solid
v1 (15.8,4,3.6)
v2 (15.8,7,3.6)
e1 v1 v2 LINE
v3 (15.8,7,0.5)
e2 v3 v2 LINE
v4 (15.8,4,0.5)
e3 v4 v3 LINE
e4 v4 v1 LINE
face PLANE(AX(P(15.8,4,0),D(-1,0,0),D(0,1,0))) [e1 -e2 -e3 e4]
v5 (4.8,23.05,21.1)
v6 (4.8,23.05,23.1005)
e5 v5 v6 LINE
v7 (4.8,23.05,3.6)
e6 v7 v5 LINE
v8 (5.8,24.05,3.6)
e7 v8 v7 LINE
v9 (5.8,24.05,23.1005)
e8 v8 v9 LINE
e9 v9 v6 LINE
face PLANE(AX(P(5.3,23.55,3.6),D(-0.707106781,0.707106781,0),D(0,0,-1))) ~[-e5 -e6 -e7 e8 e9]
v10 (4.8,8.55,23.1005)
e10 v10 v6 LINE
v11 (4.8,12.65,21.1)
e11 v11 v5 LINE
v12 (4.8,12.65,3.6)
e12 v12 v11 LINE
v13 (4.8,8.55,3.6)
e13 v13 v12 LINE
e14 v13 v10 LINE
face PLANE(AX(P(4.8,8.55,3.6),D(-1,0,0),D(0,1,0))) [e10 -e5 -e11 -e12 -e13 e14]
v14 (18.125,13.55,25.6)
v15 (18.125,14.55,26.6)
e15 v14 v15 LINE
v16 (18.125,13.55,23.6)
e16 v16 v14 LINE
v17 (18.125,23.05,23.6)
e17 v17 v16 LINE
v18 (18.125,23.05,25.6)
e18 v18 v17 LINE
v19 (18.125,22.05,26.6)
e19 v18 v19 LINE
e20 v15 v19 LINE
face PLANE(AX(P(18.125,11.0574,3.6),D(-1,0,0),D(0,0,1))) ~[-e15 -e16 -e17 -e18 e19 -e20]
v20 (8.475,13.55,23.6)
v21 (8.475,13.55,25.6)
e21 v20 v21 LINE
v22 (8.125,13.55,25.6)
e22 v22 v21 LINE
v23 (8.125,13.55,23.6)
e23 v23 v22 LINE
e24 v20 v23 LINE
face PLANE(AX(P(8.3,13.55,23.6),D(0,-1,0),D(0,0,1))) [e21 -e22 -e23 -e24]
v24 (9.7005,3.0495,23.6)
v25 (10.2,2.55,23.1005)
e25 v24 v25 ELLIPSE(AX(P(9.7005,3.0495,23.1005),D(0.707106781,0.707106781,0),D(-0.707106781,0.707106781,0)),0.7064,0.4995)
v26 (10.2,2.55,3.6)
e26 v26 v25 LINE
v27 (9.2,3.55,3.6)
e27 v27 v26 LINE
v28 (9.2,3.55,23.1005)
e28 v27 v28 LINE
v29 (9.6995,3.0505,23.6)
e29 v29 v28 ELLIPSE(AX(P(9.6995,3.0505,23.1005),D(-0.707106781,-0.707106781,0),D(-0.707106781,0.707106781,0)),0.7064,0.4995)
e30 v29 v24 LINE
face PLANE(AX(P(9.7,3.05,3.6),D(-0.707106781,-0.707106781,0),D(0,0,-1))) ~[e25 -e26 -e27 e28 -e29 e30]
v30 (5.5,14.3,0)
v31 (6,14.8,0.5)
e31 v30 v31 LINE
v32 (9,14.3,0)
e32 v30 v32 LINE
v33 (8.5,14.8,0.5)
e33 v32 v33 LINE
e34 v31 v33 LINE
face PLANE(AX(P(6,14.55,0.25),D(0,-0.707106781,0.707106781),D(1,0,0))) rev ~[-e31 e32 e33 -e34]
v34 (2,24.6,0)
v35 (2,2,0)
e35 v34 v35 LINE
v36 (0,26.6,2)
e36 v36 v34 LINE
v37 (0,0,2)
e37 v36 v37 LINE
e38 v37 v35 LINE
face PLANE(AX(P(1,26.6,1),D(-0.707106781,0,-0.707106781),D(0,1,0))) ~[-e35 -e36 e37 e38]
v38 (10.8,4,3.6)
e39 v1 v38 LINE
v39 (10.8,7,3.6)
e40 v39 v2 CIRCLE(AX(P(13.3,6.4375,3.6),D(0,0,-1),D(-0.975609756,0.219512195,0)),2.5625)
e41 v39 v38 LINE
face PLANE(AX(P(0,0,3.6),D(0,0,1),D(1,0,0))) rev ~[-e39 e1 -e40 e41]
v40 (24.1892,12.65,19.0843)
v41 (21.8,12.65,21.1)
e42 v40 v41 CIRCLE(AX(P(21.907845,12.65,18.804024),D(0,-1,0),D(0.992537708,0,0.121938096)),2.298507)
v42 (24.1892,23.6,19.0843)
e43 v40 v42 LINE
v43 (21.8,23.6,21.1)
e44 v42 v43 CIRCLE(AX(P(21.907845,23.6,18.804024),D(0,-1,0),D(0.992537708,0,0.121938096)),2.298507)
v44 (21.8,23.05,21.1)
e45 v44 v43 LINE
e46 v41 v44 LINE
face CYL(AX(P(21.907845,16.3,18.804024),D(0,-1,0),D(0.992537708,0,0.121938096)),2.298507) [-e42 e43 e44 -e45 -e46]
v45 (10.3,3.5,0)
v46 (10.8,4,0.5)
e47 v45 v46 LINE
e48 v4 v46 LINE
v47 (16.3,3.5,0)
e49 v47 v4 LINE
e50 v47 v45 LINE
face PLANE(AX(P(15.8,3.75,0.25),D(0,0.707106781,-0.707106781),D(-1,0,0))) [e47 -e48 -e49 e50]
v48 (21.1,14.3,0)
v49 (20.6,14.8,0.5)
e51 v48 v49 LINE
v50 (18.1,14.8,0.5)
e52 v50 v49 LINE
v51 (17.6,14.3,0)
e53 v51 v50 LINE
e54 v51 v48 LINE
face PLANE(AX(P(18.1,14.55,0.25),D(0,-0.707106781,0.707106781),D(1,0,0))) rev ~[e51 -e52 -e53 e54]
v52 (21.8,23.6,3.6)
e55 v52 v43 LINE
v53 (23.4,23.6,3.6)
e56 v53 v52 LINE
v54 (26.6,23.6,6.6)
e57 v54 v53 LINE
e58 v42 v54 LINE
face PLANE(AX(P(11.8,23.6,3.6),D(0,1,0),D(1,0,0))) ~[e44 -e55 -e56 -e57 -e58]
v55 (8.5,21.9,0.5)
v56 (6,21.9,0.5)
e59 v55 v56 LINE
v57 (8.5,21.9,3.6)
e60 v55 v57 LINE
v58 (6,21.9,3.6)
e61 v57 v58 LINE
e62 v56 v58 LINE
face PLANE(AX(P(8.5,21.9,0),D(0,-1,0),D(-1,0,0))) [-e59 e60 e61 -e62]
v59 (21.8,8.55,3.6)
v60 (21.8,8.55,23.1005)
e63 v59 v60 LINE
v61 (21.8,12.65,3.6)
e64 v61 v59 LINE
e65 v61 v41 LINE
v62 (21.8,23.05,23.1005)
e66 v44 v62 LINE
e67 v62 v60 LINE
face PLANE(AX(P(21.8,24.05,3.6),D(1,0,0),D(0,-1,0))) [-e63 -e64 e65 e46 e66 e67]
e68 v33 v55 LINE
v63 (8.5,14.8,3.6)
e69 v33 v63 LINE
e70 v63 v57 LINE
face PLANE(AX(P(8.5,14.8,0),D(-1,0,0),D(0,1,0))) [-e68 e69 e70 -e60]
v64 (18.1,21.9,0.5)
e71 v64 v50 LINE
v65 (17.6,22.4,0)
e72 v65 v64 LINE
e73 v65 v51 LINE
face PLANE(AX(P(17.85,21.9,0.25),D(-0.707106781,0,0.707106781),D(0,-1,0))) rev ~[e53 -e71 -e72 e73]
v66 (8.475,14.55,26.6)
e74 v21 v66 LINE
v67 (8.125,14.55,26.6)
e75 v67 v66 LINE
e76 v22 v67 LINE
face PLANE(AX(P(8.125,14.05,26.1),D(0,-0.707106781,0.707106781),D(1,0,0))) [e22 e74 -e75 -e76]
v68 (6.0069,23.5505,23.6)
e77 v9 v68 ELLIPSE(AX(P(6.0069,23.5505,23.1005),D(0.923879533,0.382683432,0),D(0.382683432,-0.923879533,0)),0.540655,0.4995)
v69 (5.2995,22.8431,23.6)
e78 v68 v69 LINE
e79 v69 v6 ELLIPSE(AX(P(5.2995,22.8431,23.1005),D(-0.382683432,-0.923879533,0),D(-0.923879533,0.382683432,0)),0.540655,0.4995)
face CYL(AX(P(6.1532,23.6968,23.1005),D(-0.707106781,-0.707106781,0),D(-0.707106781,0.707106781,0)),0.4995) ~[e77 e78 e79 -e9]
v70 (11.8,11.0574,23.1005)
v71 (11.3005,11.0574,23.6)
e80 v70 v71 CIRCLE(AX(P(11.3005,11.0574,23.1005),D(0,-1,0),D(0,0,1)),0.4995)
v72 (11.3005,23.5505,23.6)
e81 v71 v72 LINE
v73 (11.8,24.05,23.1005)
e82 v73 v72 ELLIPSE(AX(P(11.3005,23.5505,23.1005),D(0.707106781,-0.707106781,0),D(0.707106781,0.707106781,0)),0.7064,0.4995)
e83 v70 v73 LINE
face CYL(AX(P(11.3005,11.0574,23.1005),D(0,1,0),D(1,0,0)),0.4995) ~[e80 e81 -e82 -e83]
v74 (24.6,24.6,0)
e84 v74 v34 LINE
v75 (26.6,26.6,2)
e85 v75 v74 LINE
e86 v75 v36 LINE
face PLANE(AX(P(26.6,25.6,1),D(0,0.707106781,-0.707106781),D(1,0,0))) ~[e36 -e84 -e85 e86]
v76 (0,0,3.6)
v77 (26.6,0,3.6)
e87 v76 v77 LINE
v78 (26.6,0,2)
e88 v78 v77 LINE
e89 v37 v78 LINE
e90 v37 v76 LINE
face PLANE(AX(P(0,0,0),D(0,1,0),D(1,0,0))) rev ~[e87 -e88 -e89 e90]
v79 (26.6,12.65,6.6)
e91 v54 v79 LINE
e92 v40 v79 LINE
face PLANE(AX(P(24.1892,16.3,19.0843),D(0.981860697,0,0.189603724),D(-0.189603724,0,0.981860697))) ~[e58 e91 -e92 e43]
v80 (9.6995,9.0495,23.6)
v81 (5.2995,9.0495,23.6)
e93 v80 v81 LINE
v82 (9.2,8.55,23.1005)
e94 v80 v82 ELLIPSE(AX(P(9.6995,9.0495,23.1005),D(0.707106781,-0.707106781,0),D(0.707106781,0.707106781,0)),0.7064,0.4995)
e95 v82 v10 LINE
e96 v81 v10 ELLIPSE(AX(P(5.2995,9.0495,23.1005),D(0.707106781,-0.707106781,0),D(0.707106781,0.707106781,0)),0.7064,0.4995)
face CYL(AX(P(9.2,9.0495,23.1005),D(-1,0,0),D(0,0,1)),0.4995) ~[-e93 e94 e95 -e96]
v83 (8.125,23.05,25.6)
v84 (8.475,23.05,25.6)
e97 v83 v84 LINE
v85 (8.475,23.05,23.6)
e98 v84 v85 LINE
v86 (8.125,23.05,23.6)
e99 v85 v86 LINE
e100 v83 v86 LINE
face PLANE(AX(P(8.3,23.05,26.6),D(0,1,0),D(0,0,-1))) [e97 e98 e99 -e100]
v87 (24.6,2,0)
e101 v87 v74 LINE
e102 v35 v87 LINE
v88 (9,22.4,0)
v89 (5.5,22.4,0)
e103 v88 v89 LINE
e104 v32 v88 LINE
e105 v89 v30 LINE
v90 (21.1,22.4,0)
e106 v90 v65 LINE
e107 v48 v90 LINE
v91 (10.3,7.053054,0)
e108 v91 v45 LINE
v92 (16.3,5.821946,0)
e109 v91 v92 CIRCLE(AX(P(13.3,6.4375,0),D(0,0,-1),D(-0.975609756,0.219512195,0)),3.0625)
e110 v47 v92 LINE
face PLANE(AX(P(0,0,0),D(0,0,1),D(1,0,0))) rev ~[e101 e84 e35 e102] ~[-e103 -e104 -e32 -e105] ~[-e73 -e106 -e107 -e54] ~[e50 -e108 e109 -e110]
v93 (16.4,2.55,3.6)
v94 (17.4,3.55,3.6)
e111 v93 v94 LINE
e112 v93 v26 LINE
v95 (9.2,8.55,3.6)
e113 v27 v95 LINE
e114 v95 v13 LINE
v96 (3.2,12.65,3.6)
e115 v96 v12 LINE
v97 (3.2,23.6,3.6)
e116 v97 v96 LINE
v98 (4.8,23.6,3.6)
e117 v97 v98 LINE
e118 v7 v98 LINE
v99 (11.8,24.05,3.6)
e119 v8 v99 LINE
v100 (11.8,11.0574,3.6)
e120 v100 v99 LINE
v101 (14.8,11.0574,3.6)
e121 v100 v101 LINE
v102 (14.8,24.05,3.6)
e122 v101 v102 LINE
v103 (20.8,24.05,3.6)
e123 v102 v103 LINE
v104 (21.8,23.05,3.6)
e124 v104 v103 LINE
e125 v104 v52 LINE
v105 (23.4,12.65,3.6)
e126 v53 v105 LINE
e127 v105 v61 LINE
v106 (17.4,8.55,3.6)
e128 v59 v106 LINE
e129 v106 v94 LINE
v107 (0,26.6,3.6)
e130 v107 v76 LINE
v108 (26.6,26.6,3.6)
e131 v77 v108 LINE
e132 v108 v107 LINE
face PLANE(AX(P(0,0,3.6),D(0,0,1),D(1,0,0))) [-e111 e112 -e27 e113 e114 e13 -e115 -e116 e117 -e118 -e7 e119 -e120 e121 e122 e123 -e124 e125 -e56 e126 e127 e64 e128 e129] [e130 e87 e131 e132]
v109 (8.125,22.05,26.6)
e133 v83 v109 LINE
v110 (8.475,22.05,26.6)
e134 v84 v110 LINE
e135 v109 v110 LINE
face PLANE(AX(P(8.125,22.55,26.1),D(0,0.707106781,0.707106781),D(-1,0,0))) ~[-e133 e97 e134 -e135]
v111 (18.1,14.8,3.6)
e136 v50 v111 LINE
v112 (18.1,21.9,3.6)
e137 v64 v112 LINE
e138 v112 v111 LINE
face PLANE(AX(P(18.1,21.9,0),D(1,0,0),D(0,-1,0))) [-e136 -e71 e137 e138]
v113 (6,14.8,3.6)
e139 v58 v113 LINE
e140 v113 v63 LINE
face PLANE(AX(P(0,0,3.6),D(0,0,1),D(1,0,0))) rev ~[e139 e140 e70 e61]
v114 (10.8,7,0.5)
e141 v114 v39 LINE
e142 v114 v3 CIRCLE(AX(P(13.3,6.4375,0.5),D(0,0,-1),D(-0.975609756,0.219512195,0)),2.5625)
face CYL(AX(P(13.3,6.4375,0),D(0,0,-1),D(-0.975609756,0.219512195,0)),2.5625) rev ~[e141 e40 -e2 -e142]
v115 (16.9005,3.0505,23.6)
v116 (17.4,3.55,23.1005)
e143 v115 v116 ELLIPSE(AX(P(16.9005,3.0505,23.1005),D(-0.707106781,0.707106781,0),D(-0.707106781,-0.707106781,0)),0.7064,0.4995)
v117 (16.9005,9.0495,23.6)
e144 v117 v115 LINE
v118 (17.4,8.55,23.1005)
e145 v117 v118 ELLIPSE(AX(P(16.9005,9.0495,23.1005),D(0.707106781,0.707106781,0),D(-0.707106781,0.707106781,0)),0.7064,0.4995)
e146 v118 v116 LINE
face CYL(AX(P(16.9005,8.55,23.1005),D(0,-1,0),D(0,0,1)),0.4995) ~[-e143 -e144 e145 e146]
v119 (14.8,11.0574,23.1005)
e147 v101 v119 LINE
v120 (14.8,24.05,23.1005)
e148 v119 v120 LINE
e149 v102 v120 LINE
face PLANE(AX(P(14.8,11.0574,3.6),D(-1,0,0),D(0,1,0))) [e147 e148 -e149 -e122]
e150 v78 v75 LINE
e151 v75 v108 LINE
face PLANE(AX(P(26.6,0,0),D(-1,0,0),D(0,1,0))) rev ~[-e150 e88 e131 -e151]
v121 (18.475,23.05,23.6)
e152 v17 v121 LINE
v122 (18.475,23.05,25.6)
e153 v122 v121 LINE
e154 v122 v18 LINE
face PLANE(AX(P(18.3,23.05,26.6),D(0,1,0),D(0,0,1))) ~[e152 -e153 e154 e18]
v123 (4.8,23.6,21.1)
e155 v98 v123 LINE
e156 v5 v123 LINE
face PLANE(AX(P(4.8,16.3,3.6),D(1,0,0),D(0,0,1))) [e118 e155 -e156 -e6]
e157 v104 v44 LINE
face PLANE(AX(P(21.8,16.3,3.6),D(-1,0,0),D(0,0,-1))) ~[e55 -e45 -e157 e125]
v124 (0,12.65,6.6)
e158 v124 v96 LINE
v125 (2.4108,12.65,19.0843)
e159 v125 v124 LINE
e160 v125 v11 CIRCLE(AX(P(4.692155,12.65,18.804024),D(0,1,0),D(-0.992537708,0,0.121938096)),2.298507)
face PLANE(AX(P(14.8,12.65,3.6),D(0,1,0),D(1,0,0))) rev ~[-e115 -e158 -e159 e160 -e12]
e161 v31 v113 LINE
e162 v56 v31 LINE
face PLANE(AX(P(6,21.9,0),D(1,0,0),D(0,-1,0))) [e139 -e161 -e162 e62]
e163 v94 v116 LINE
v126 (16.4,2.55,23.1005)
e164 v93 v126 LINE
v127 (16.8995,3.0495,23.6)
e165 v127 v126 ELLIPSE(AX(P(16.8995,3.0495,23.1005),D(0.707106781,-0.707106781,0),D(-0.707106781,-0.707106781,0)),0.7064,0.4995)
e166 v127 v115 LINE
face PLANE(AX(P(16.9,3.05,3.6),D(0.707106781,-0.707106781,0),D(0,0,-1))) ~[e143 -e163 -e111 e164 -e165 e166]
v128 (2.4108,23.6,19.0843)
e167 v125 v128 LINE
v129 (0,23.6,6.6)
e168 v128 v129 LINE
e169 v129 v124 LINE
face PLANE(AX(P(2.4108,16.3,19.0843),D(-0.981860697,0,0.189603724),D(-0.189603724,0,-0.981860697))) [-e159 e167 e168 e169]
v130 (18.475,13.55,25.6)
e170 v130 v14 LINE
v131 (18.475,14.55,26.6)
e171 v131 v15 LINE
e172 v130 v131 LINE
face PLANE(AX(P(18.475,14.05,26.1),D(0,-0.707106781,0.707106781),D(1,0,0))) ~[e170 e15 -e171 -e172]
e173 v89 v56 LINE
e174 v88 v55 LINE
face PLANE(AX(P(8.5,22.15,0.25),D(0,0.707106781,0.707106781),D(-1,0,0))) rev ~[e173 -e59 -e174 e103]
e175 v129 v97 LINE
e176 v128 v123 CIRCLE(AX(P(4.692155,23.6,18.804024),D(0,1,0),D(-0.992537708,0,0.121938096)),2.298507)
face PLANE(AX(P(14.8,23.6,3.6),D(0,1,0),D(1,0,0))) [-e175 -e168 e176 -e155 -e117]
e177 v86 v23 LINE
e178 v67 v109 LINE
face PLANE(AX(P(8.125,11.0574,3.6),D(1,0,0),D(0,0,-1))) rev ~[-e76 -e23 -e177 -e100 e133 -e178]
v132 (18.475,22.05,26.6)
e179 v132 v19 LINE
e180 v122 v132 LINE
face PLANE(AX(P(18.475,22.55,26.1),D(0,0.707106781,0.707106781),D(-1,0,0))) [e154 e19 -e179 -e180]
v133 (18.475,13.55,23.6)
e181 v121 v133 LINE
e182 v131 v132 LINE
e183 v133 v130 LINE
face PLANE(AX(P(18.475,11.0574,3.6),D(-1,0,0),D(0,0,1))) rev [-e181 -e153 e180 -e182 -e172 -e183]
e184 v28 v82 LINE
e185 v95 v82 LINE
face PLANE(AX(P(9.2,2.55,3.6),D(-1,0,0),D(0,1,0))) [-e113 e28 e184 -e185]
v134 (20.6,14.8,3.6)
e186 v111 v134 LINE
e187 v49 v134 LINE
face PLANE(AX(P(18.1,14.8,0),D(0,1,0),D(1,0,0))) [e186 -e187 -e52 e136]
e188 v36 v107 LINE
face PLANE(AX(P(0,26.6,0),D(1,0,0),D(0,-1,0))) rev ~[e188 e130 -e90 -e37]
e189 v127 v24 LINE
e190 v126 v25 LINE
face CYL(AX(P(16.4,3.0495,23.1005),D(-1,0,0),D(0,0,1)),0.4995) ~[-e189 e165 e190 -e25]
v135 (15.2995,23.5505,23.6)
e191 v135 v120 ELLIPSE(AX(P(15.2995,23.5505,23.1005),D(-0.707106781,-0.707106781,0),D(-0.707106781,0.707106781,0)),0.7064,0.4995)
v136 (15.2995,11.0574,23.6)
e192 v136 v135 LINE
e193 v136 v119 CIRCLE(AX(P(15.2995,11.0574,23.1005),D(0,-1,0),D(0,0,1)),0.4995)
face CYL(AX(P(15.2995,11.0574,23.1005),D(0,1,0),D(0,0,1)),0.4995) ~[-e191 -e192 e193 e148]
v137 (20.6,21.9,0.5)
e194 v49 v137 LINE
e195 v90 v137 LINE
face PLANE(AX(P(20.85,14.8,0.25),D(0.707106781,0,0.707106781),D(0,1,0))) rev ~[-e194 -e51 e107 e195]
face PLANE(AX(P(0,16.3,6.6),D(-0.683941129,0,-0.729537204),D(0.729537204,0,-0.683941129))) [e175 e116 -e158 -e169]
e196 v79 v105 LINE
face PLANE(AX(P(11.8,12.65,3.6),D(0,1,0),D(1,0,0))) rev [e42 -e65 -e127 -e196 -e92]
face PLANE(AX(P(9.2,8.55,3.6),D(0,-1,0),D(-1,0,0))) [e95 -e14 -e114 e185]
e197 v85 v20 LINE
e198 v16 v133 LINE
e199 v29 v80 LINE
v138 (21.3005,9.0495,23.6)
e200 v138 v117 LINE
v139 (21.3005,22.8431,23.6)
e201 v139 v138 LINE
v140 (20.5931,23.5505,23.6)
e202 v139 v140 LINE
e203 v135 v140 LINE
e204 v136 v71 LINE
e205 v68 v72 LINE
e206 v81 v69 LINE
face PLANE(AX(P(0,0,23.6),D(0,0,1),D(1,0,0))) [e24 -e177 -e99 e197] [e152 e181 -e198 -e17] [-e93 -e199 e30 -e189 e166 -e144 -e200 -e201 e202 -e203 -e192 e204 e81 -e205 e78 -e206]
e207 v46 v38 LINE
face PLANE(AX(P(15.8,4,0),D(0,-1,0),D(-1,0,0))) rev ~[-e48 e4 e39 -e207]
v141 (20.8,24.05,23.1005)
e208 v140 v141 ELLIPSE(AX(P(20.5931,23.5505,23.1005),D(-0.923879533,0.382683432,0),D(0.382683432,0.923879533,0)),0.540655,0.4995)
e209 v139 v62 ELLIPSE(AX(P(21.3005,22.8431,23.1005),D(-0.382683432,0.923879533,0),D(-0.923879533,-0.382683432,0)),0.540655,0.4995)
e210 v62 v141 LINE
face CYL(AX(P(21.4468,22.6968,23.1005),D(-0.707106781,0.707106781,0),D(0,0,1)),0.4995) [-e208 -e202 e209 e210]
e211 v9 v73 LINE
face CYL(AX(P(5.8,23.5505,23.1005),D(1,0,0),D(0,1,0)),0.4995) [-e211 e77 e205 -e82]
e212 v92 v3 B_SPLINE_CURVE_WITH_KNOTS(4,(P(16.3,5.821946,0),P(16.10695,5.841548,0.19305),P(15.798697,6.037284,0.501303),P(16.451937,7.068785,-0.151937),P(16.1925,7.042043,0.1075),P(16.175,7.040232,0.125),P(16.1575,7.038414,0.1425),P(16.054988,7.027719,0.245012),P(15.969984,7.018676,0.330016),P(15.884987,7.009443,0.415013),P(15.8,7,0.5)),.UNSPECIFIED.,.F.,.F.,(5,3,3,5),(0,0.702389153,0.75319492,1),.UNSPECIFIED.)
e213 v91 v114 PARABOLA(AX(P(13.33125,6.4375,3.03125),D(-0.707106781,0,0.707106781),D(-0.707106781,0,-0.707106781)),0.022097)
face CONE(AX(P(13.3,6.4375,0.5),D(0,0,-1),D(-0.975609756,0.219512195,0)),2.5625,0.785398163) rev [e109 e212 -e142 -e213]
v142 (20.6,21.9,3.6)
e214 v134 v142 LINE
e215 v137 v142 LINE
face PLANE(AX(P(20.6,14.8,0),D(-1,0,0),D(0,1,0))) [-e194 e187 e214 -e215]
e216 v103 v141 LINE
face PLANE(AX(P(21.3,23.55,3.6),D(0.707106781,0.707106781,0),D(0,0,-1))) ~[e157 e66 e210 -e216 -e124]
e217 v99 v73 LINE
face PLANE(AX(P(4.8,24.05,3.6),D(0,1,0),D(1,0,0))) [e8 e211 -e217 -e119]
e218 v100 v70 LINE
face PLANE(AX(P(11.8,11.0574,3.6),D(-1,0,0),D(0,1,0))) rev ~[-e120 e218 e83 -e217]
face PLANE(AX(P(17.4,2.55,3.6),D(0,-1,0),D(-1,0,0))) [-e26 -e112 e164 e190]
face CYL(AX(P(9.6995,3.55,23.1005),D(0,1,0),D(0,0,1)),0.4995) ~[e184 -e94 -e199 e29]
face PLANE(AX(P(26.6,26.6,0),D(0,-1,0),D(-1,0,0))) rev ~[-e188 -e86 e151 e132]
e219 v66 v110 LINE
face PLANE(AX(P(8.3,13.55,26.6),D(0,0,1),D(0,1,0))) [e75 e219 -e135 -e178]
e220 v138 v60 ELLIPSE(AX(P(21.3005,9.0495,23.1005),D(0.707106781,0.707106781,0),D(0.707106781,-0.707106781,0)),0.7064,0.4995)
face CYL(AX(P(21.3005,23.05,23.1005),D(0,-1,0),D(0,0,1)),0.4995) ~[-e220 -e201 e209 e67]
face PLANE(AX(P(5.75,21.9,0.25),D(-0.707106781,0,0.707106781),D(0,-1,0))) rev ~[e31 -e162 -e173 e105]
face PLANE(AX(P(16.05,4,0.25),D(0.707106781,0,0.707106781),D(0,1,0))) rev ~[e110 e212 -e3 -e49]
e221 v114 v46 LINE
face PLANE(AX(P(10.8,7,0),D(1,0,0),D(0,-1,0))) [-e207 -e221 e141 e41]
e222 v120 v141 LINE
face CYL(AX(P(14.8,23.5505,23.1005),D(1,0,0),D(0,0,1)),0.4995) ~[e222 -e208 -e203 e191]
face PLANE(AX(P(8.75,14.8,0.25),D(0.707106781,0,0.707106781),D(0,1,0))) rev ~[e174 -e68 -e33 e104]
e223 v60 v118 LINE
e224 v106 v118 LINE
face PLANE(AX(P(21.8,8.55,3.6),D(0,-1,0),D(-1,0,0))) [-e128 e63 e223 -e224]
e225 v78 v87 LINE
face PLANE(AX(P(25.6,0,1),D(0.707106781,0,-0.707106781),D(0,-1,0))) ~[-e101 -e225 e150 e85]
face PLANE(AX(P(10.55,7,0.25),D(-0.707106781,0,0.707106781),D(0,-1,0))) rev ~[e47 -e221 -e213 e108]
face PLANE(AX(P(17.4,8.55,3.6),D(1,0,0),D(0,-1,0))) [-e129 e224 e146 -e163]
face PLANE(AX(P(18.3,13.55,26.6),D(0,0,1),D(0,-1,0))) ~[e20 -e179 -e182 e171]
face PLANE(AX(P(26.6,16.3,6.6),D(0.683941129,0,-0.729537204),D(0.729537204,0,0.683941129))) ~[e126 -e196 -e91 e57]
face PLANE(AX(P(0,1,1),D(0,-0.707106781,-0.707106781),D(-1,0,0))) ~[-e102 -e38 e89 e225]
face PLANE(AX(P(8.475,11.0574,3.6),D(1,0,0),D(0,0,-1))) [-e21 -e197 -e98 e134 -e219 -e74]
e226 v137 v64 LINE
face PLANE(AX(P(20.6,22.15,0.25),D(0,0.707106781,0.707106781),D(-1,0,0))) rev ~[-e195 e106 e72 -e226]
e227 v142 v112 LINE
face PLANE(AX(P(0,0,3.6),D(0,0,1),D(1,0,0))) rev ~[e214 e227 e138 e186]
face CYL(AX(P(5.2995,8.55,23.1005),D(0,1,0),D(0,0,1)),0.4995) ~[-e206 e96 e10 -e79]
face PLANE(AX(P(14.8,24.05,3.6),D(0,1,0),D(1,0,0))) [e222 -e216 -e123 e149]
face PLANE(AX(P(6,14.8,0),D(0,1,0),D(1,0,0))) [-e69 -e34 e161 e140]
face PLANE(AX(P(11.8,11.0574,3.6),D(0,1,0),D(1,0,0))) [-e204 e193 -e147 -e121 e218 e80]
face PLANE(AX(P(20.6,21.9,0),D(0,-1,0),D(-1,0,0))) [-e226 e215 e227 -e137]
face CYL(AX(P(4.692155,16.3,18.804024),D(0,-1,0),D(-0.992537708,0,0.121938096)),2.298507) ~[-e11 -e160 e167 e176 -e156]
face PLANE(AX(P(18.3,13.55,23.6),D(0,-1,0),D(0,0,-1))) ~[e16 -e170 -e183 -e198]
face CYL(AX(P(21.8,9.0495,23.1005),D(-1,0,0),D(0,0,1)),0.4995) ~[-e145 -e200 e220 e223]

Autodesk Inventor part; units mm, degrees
ref_plane "XYPlane" through (14.8, 16.3, 3.6) normal (0, 1, 0) x (1, 0, 0)
ref_plane "YZPlane" through (13.3, 11.0574, 3.6) normal (-1, 0, 0) x (0, 0, 1)
sketch "Sketch1" plane through (0, 0, 0) normal (0, 0, 1) x (1, 0, 0)
  line L0 (0, 0) -> (26.6, 0)
  line L1 (26.6, 0) -> (26.6, 26.6)
  line L2 (26.6, 26.6) -> (0, 26.6)
  line L3 (0, 26.6) -> (0, 0)
  dimension "d0" = 26.6
  dimension "d1" = 26.6
extrude "Extrusion1" add sketch "Sketch1" along normal blind 3.6
chamfer "Chamfer1" distance 2 angle 45 4 edges at (13.3, 26.6, 0) (0, 13.3, 0) (26.6, 13.3, 0) (13.3, 0, 0)
sketch "Sketch2" plane through (0, 0, 0) normal (0, 0, -1) x (-1, 0, 0)
  line L0 (0, 26.6) -> (0, 0) construction
  line L1 (0, 20.5614) -> (-6, 20.5614) construction
  line L2 (-26.6, 26.6) -> (0, 26.6) construction
  line L3 (-7.1317, 26.6) -> (-7.1317, 21.9) construction
  line L4 (-7.1317, 26.6) -> (-2.4317, 26.6) construction
  line L5 (-6, 21.9) -> (-8.5, 21.9) construction
  line L6 (-8.5, 21.9) -> (-8.5, 14.8) construction
  line L7 (-8.5, 14.8) -> (-6, 14.8) construction
  line L8 (-6, 14.8) -> (-6, 21.9) construction
  line L9 (-13.3, 26.6) -> (-13.3, 0) construction
  line L10 (0, 0) -> (-26.6, 0) construction
  line L11 (-20.6, 21.9) -> (-18.1, 21.9) construction
  line L12 (-18.1, 21.9) -> (-18.1, 14.8) construction
  line L13 (-18.1, 14.8) -> (-20.6, 14.8) construction
  line L14 (-20.6, 14.8) -> (-20.6, 21.9) construction
  line L15 (-13.3, 0) -> (-13.3, 4) construction
  line L16 (-13.3, 4) -> (-10.8, 4) construction
  line L17 (-10.8, 4) -> (-15.8, 4) construction
  line L18 (-15.8, 4) -> (-15.8, 9) construction
  line L19 (-15.8, 9) -> (-10.8, 9) construction
  line L20 (-10.8, 9) -> (-10.8, 4) construction
  line L21 (-15.8, 4) -> (-15.8, 7) construction
  line L22 (-10.8, 4) -> (-10.8, 7) construction
  arc A0 (-10.8, 7) -> (-15.8, 7) centre (-13.3, 6.4375) ccw construction
  line L23 (-20.6, 21.9) -> (-18.1, 21.9)
  line L24 (-18.1, 21.9) -> (-18.1, 14.8)
  line L25 (-18.1, 14.8) -> (-20.6, 14.8)
  line L26 (-20.6, 14.8) -> (-20.6, 21.9)
  line L27 (-8.5, 21.9) -> (-6, 21.9)
  line L28 (-6, 21.9) -> (-6, 14.8)
  line L29 (-6, 14.8) -> (-8.5, 14.8)
  line L30 (-8.5, 14.8) -> (-8.5, 21.9)
  line L31 (-15.8, 4) -> (-10.8, 4)
  line L32 (-10.8, 7) -> (-10.8, 4)
  line L33 (-15.8, 4) -> (-15.8, 7)
  arc A1 (-10.8, 7) -> (-15.8, 7) centre (-13.3, 6.4375) ccw
  dimension "d7" = 6
  dimension "d9" = 4.7
  dimension "d11" = 2.5
  dimension "d12" = 7.1
  dimension "d13" = 4
  dimension "d14" = 2.5
  dimension "d15" = 5
  dimension "d16" = 5
  dimension "d17" = 3
extrude "Extrusion2" cut sketch "Sketch2" against normal blind 3.6
sketch "Sketch3" plane through (0, 0, 3.6) normal (0, 0, 1) x (1, 0, 0)
  line L0 (15.8, 4) -> (10.8, 4) construction
  line L1 (10.8, 4) -> (10.8, 7) construction
  arc A0 (15.8, 7) -> (10.8, 7) centre (13.3, 6.4375) ccw construction
  line L2 (15.8, 7) -> (15.8, 4) construction
  line L3 (6, 14.8) -> (6, 21.9) construction
  line L4 (6, 21.9) -> (8.5, 21.9) construction
  line L5 (8.5, 21.9) -> (8.5, 14.8) construction
  line L6 (8.5, 14.8) -> (6, 14.8) construction
  line L7 (18.1, 14.8) -> (18.1, 21.9) construction
  line L8 (18.1, 21.9) -> (20.6, 21.9) construction
  line L9 (20.6, 21.9) -> (20.6, 14.8) construction
  line L10 (20.6, 14.8) -> (18.1, 14.8) construction
  line L11 (26.6, 0) -> (26.6, 26.6) construction
  line L12 (26.6, 26.6) -> (0, 26.6) construction
  line L13 (0, 26.6) -> (0, 0) construction
  line L14 (0, 0) -> (26.6, 0) construction
  line L15 (13.3, 26.6) -> (13.3, 0) construction
  line L16 (4.8, 2.55) -> (21.8, 2.55) construction
  line L17 (21.8, 2.55) -> (21.8, 24.05) construction
  line L18 (21.8, 24.05) -> (4.8, 24.05) construction
  line L19 (4.8, 24.05) -> (4.8, 2.55) construction
  line L20 (4.8, 2.55) -> (21.8, 24.05) construction
  line L21 (21.8, 2.55) -> (4.8, 24.05) construction
  line L22 (21.8, 2.55) -> (17.4, 2.55) construction
  line L23 (17.4, 2.55) -> (17.4, 8.55) construction
  line L24 (17.4, 8.55) -> (21.8, 8.55) construction
  line L25 (21.8, 8.55) -> (21.8, 2.55) construction
  line L26 (4.8, 2.55) -> (9.2, 2.55) construction
  line L27 (9.2, 2.55) -> (9.2, 8.55) construction
  line L28 (9.2, 8.55) -> (4.8, 8.55) construction
  line L29 (4.8, 8.55) -> (4.8, 2.55) construction
  line L30 (11.8, 37.0426) -> (14.8, 37.0426) construction
  line L31 (14.8, 37.0426) -> (14.8, 11.0574) construction
  line L32 (14.8, 11.0574) -> (11.8, 11.0574) construction
  line L33 (11.8, 11.0574) -> (11.8, 37.0426) construction
  line L34 (11.8, 37.0426) -> (14.8, 11.0574) construction
  line L35 (14.8, 37.0426) -> (11.8, 11.0574) construction
  line L36 (4.8, 24.05) -> (11.8, 24.05)
  line L37 (11.8, 11.0574) -> (11.8, 24.05)
  line L38 (11.8, 11.0574) -> (14.8, 11.0574)
  line L39 (14.8, 11.0574) -> (14.8, 24.05)
  line L40 (14.8, 24.05) -> (21.8, 24.05)
  line L41 (21.8, 24.05) -> (21.8, 8.55)
  line L42 (21.8, 8.55) -> (17.4, 8.55)
  line L43 (17.4, 8.55) -> (17.4, 2.55)
  line L44 (17.4, 2.55) -> (9.2, 2.55)
  line L45 (9.2, 2.55) -> (9.2, 8.55)
  line L46 (9.2, 8.55) -> (4.8, 8.55)
  line L47 (4.8, 8.55) -> (4.8, 24.05)
  point P0 (13.3, 13.3)
  point P1 (13.3, 24.05)
  dimension "d20" = 17
  dimension "d21" = 21.5
  dimension "d22" = 4.4
  dimension "d23" = 6
  dimension "d24" = 4.4
  dimension "d25" = 6
  dimension "d26" = 3
extrude "Extrusion3" add sketch "Sketch3" along normal blind 20
chamfer "Chamfer2" distance 1 angle 45 4 edges at (4.8, 24.05, 13.6) (21.8, 24.05, 13.6) (17.4, 2.55, 13.6) (9.2, 2.55, 13.6)
fillet "Fillet1" radius 0.5 13 edges at (8.8, 24.05, 23.6) (4.8, 15.8, 23.6) (11.8, 17.5537, 23.6) (14.8, 17.5537, 23.6) (17.8, 24.05, 23.6) (21.8, 15.8, 23.6) (19.6, 8.55, 23.6) (17.4, 6.05, 23.6) (9.2, 6.05, 23.6) (7, 8.55, 23.6) (13.3, 2.55, 23.6) (21.3, 23.55, 23.6) (5.3, 23.55, 23.6)
sketch "Sketch4" plane through (14.8, 16.3, 3.6) normal (0, 1, 0) x (1, 0, 0)
  line L0 (-10, 0) -> (-10, -19.5) construction
  line L1 (11.8, 0) -> (-14.8, 0) construction
  line L2 (-8.7929, -20) -> (-3.5, -20) construction
  arc A0 (-3.5, -20) -> (-3, -19.5) centre (-3.5, -19.5) ccw construction
  line L3 (-3, -19.5) -> (-9, -19.5) construction
  ellipse E0 centre (-8.7929, -19.5) end of major axis (-8.7929, -20) minor radius 0.2071 (-9, -19.5) -> (-8.7929, -20) ccw construction
  line L4 (-9.5, -20) -> (-8.7929, -20) construction
  ellipse E1 centre (-8.7929, -19.5) end of major axis (-8.7929, -20) minor radius 0.2071 (-9, -19.5) -> (-8.7929, -20) ccw construction
  line L5 (-9, -19.5) -> (-10, -19.5) construction
  arc A1 (-10, -19.5) -> (-9.5, -20) centre (-9.5, -19.5) ccw construction
  line L6 (-7.8516, -20) -> (-7.8516, -17.5) construction
  line L7 (-7.8516, -17.5) -> (-16.9269, -17.5) construction
  line L8 (-10, -3.8087) -> (-15, -3.8087) construction
  line L9 (-14.8, 0) -> (-14.8, -3) construction
  line L10 (-10, 0) -> (-11.6, 0) construction
  line L11 (-11.6, 0) -> (-14.8, -3) construction
  line L12 (-10, -17.5) -> (-12, -17.5) construction
  line L13 (-12, -17.5) -> (-14.8, -3) construction
  arc A2 (-12.3892, -15.4843) -> (-10, -17.5) centre (-10.1078, -15.204) ccw construction
  arc A3 (-12.3892, -15.4843) -> (-10, -17.5) centre (-10.1078, -15.204) ccw
  line L14 (-12.3892, -15.4843) -> (-14.8, -3)
  line L15 (-14.8, -3) -> (-11.6, 0)
  line L16 (-11.6, 0) -> (-10, 0)
  line L17 (-10, 0) -> (-10, -17.5)
  point P0 (-14.8, 3.6)
  dimension "d33" = 2.5
  dimension "d34" = 5
  dimension "d35" = 3
  dimension "d36" = 1.6
  dimension "d37" = 2
extrude "Extrusion4" add sketch "Sketch4" along normal blind 7.3 and the other way blind 3.65
mirror "Mirror1" about plane through (13.3, 11.0574, 3.6) normal (-1, 0, 0) of "Extrusion4"
ref_plane "LeftLine" through (8.3, 11.0574, 3.6) normal (1, 0, 0) x (0, 0, -1)
sketch "Sketch5" plane through (8.3, 11.0574, 3.6) normal (1, 0, 0) x (0, 0, -1)
  line L0 (-20, -2.0074) -> (-20, 11.7855) construction
  line L1 (-19.5, 12.9926) -> (0, 12.9926) construction
  line L2 (-20, 11.7855) -> (-20, 12.4926) construction
  line L3 (0, -2.5074) -> (-19.5, -2.5074) construction
  line L4 (-20, 12.9926) -> (-13.6632, 12.9926) construction
  line L5 (-13.6632, 12.9926) -> (-13.6632, -2.5074) construction
  line L6 (-13.6632, -2.5074) -> (-20, -2.5074) construction
  line L7 (-20, -2.5074) -> (-20, 12.9926) construction
  line L8 (-20, 12.9926) -> (-20, 11.9926) construction
  line L9 (-20, -2.5074) -> (-20, 2.4926) construction
  line L10 (-20, 2.4926) -> (-23, 2.4926) construction
  line L11 (-23, 2.4926) -> (-23, 11.9926) construction
  line L12 (-23, 11.9926) -> (-20, 11.9926) construction
  line L13 (-20, 11.9926) -> (-20, 2.4926) construction
  line L14 (-23, 11.9926) -> (-20, 11.9926)
  line L15 (-20, 11.9926) -> (-20, 2.4926)
  line L16 (-20, 2.4926) -> (-23, 2.4926)
  line L17 (-23, 2.4926) -> (-23, 11.9926)
  point P0 (3.6, -11.0574)
  dimension "d42" = 1
  dimension "d43" = 5
  dimension "d44" = 3
extrude "Extrusion5" add sketch "Sketch5" along normal mid plane 0.35
chamfer "Chamfer3" distance 1 angle 45 2 edges at (8.3, 23.05, 26.6) (8.3, 13.55, 26.6)
mirror "Mirror2" about plane through (13.3, 11.0574, 3.6) normal (-1, 0, 0) of "Extrusion5", "Chamfer3"
chamfer "Chamfer4" distance 0.5 angle 45 12 edges at (19.35, 21.9, 0) (18.1, 18.35, 0) (20.6, 18.35, 0) (19.35, 14.8, 0) (7.25, 14.8, 0) (6, 18.35, 0) (7.25, 21.9, 0) (8.5, 18.35, 0) (13.3, 9, 0) (15.8, 5.5, 0) (10.8, 5.5, 0) (13.3, 4, 0)
properties part number "Plug"
